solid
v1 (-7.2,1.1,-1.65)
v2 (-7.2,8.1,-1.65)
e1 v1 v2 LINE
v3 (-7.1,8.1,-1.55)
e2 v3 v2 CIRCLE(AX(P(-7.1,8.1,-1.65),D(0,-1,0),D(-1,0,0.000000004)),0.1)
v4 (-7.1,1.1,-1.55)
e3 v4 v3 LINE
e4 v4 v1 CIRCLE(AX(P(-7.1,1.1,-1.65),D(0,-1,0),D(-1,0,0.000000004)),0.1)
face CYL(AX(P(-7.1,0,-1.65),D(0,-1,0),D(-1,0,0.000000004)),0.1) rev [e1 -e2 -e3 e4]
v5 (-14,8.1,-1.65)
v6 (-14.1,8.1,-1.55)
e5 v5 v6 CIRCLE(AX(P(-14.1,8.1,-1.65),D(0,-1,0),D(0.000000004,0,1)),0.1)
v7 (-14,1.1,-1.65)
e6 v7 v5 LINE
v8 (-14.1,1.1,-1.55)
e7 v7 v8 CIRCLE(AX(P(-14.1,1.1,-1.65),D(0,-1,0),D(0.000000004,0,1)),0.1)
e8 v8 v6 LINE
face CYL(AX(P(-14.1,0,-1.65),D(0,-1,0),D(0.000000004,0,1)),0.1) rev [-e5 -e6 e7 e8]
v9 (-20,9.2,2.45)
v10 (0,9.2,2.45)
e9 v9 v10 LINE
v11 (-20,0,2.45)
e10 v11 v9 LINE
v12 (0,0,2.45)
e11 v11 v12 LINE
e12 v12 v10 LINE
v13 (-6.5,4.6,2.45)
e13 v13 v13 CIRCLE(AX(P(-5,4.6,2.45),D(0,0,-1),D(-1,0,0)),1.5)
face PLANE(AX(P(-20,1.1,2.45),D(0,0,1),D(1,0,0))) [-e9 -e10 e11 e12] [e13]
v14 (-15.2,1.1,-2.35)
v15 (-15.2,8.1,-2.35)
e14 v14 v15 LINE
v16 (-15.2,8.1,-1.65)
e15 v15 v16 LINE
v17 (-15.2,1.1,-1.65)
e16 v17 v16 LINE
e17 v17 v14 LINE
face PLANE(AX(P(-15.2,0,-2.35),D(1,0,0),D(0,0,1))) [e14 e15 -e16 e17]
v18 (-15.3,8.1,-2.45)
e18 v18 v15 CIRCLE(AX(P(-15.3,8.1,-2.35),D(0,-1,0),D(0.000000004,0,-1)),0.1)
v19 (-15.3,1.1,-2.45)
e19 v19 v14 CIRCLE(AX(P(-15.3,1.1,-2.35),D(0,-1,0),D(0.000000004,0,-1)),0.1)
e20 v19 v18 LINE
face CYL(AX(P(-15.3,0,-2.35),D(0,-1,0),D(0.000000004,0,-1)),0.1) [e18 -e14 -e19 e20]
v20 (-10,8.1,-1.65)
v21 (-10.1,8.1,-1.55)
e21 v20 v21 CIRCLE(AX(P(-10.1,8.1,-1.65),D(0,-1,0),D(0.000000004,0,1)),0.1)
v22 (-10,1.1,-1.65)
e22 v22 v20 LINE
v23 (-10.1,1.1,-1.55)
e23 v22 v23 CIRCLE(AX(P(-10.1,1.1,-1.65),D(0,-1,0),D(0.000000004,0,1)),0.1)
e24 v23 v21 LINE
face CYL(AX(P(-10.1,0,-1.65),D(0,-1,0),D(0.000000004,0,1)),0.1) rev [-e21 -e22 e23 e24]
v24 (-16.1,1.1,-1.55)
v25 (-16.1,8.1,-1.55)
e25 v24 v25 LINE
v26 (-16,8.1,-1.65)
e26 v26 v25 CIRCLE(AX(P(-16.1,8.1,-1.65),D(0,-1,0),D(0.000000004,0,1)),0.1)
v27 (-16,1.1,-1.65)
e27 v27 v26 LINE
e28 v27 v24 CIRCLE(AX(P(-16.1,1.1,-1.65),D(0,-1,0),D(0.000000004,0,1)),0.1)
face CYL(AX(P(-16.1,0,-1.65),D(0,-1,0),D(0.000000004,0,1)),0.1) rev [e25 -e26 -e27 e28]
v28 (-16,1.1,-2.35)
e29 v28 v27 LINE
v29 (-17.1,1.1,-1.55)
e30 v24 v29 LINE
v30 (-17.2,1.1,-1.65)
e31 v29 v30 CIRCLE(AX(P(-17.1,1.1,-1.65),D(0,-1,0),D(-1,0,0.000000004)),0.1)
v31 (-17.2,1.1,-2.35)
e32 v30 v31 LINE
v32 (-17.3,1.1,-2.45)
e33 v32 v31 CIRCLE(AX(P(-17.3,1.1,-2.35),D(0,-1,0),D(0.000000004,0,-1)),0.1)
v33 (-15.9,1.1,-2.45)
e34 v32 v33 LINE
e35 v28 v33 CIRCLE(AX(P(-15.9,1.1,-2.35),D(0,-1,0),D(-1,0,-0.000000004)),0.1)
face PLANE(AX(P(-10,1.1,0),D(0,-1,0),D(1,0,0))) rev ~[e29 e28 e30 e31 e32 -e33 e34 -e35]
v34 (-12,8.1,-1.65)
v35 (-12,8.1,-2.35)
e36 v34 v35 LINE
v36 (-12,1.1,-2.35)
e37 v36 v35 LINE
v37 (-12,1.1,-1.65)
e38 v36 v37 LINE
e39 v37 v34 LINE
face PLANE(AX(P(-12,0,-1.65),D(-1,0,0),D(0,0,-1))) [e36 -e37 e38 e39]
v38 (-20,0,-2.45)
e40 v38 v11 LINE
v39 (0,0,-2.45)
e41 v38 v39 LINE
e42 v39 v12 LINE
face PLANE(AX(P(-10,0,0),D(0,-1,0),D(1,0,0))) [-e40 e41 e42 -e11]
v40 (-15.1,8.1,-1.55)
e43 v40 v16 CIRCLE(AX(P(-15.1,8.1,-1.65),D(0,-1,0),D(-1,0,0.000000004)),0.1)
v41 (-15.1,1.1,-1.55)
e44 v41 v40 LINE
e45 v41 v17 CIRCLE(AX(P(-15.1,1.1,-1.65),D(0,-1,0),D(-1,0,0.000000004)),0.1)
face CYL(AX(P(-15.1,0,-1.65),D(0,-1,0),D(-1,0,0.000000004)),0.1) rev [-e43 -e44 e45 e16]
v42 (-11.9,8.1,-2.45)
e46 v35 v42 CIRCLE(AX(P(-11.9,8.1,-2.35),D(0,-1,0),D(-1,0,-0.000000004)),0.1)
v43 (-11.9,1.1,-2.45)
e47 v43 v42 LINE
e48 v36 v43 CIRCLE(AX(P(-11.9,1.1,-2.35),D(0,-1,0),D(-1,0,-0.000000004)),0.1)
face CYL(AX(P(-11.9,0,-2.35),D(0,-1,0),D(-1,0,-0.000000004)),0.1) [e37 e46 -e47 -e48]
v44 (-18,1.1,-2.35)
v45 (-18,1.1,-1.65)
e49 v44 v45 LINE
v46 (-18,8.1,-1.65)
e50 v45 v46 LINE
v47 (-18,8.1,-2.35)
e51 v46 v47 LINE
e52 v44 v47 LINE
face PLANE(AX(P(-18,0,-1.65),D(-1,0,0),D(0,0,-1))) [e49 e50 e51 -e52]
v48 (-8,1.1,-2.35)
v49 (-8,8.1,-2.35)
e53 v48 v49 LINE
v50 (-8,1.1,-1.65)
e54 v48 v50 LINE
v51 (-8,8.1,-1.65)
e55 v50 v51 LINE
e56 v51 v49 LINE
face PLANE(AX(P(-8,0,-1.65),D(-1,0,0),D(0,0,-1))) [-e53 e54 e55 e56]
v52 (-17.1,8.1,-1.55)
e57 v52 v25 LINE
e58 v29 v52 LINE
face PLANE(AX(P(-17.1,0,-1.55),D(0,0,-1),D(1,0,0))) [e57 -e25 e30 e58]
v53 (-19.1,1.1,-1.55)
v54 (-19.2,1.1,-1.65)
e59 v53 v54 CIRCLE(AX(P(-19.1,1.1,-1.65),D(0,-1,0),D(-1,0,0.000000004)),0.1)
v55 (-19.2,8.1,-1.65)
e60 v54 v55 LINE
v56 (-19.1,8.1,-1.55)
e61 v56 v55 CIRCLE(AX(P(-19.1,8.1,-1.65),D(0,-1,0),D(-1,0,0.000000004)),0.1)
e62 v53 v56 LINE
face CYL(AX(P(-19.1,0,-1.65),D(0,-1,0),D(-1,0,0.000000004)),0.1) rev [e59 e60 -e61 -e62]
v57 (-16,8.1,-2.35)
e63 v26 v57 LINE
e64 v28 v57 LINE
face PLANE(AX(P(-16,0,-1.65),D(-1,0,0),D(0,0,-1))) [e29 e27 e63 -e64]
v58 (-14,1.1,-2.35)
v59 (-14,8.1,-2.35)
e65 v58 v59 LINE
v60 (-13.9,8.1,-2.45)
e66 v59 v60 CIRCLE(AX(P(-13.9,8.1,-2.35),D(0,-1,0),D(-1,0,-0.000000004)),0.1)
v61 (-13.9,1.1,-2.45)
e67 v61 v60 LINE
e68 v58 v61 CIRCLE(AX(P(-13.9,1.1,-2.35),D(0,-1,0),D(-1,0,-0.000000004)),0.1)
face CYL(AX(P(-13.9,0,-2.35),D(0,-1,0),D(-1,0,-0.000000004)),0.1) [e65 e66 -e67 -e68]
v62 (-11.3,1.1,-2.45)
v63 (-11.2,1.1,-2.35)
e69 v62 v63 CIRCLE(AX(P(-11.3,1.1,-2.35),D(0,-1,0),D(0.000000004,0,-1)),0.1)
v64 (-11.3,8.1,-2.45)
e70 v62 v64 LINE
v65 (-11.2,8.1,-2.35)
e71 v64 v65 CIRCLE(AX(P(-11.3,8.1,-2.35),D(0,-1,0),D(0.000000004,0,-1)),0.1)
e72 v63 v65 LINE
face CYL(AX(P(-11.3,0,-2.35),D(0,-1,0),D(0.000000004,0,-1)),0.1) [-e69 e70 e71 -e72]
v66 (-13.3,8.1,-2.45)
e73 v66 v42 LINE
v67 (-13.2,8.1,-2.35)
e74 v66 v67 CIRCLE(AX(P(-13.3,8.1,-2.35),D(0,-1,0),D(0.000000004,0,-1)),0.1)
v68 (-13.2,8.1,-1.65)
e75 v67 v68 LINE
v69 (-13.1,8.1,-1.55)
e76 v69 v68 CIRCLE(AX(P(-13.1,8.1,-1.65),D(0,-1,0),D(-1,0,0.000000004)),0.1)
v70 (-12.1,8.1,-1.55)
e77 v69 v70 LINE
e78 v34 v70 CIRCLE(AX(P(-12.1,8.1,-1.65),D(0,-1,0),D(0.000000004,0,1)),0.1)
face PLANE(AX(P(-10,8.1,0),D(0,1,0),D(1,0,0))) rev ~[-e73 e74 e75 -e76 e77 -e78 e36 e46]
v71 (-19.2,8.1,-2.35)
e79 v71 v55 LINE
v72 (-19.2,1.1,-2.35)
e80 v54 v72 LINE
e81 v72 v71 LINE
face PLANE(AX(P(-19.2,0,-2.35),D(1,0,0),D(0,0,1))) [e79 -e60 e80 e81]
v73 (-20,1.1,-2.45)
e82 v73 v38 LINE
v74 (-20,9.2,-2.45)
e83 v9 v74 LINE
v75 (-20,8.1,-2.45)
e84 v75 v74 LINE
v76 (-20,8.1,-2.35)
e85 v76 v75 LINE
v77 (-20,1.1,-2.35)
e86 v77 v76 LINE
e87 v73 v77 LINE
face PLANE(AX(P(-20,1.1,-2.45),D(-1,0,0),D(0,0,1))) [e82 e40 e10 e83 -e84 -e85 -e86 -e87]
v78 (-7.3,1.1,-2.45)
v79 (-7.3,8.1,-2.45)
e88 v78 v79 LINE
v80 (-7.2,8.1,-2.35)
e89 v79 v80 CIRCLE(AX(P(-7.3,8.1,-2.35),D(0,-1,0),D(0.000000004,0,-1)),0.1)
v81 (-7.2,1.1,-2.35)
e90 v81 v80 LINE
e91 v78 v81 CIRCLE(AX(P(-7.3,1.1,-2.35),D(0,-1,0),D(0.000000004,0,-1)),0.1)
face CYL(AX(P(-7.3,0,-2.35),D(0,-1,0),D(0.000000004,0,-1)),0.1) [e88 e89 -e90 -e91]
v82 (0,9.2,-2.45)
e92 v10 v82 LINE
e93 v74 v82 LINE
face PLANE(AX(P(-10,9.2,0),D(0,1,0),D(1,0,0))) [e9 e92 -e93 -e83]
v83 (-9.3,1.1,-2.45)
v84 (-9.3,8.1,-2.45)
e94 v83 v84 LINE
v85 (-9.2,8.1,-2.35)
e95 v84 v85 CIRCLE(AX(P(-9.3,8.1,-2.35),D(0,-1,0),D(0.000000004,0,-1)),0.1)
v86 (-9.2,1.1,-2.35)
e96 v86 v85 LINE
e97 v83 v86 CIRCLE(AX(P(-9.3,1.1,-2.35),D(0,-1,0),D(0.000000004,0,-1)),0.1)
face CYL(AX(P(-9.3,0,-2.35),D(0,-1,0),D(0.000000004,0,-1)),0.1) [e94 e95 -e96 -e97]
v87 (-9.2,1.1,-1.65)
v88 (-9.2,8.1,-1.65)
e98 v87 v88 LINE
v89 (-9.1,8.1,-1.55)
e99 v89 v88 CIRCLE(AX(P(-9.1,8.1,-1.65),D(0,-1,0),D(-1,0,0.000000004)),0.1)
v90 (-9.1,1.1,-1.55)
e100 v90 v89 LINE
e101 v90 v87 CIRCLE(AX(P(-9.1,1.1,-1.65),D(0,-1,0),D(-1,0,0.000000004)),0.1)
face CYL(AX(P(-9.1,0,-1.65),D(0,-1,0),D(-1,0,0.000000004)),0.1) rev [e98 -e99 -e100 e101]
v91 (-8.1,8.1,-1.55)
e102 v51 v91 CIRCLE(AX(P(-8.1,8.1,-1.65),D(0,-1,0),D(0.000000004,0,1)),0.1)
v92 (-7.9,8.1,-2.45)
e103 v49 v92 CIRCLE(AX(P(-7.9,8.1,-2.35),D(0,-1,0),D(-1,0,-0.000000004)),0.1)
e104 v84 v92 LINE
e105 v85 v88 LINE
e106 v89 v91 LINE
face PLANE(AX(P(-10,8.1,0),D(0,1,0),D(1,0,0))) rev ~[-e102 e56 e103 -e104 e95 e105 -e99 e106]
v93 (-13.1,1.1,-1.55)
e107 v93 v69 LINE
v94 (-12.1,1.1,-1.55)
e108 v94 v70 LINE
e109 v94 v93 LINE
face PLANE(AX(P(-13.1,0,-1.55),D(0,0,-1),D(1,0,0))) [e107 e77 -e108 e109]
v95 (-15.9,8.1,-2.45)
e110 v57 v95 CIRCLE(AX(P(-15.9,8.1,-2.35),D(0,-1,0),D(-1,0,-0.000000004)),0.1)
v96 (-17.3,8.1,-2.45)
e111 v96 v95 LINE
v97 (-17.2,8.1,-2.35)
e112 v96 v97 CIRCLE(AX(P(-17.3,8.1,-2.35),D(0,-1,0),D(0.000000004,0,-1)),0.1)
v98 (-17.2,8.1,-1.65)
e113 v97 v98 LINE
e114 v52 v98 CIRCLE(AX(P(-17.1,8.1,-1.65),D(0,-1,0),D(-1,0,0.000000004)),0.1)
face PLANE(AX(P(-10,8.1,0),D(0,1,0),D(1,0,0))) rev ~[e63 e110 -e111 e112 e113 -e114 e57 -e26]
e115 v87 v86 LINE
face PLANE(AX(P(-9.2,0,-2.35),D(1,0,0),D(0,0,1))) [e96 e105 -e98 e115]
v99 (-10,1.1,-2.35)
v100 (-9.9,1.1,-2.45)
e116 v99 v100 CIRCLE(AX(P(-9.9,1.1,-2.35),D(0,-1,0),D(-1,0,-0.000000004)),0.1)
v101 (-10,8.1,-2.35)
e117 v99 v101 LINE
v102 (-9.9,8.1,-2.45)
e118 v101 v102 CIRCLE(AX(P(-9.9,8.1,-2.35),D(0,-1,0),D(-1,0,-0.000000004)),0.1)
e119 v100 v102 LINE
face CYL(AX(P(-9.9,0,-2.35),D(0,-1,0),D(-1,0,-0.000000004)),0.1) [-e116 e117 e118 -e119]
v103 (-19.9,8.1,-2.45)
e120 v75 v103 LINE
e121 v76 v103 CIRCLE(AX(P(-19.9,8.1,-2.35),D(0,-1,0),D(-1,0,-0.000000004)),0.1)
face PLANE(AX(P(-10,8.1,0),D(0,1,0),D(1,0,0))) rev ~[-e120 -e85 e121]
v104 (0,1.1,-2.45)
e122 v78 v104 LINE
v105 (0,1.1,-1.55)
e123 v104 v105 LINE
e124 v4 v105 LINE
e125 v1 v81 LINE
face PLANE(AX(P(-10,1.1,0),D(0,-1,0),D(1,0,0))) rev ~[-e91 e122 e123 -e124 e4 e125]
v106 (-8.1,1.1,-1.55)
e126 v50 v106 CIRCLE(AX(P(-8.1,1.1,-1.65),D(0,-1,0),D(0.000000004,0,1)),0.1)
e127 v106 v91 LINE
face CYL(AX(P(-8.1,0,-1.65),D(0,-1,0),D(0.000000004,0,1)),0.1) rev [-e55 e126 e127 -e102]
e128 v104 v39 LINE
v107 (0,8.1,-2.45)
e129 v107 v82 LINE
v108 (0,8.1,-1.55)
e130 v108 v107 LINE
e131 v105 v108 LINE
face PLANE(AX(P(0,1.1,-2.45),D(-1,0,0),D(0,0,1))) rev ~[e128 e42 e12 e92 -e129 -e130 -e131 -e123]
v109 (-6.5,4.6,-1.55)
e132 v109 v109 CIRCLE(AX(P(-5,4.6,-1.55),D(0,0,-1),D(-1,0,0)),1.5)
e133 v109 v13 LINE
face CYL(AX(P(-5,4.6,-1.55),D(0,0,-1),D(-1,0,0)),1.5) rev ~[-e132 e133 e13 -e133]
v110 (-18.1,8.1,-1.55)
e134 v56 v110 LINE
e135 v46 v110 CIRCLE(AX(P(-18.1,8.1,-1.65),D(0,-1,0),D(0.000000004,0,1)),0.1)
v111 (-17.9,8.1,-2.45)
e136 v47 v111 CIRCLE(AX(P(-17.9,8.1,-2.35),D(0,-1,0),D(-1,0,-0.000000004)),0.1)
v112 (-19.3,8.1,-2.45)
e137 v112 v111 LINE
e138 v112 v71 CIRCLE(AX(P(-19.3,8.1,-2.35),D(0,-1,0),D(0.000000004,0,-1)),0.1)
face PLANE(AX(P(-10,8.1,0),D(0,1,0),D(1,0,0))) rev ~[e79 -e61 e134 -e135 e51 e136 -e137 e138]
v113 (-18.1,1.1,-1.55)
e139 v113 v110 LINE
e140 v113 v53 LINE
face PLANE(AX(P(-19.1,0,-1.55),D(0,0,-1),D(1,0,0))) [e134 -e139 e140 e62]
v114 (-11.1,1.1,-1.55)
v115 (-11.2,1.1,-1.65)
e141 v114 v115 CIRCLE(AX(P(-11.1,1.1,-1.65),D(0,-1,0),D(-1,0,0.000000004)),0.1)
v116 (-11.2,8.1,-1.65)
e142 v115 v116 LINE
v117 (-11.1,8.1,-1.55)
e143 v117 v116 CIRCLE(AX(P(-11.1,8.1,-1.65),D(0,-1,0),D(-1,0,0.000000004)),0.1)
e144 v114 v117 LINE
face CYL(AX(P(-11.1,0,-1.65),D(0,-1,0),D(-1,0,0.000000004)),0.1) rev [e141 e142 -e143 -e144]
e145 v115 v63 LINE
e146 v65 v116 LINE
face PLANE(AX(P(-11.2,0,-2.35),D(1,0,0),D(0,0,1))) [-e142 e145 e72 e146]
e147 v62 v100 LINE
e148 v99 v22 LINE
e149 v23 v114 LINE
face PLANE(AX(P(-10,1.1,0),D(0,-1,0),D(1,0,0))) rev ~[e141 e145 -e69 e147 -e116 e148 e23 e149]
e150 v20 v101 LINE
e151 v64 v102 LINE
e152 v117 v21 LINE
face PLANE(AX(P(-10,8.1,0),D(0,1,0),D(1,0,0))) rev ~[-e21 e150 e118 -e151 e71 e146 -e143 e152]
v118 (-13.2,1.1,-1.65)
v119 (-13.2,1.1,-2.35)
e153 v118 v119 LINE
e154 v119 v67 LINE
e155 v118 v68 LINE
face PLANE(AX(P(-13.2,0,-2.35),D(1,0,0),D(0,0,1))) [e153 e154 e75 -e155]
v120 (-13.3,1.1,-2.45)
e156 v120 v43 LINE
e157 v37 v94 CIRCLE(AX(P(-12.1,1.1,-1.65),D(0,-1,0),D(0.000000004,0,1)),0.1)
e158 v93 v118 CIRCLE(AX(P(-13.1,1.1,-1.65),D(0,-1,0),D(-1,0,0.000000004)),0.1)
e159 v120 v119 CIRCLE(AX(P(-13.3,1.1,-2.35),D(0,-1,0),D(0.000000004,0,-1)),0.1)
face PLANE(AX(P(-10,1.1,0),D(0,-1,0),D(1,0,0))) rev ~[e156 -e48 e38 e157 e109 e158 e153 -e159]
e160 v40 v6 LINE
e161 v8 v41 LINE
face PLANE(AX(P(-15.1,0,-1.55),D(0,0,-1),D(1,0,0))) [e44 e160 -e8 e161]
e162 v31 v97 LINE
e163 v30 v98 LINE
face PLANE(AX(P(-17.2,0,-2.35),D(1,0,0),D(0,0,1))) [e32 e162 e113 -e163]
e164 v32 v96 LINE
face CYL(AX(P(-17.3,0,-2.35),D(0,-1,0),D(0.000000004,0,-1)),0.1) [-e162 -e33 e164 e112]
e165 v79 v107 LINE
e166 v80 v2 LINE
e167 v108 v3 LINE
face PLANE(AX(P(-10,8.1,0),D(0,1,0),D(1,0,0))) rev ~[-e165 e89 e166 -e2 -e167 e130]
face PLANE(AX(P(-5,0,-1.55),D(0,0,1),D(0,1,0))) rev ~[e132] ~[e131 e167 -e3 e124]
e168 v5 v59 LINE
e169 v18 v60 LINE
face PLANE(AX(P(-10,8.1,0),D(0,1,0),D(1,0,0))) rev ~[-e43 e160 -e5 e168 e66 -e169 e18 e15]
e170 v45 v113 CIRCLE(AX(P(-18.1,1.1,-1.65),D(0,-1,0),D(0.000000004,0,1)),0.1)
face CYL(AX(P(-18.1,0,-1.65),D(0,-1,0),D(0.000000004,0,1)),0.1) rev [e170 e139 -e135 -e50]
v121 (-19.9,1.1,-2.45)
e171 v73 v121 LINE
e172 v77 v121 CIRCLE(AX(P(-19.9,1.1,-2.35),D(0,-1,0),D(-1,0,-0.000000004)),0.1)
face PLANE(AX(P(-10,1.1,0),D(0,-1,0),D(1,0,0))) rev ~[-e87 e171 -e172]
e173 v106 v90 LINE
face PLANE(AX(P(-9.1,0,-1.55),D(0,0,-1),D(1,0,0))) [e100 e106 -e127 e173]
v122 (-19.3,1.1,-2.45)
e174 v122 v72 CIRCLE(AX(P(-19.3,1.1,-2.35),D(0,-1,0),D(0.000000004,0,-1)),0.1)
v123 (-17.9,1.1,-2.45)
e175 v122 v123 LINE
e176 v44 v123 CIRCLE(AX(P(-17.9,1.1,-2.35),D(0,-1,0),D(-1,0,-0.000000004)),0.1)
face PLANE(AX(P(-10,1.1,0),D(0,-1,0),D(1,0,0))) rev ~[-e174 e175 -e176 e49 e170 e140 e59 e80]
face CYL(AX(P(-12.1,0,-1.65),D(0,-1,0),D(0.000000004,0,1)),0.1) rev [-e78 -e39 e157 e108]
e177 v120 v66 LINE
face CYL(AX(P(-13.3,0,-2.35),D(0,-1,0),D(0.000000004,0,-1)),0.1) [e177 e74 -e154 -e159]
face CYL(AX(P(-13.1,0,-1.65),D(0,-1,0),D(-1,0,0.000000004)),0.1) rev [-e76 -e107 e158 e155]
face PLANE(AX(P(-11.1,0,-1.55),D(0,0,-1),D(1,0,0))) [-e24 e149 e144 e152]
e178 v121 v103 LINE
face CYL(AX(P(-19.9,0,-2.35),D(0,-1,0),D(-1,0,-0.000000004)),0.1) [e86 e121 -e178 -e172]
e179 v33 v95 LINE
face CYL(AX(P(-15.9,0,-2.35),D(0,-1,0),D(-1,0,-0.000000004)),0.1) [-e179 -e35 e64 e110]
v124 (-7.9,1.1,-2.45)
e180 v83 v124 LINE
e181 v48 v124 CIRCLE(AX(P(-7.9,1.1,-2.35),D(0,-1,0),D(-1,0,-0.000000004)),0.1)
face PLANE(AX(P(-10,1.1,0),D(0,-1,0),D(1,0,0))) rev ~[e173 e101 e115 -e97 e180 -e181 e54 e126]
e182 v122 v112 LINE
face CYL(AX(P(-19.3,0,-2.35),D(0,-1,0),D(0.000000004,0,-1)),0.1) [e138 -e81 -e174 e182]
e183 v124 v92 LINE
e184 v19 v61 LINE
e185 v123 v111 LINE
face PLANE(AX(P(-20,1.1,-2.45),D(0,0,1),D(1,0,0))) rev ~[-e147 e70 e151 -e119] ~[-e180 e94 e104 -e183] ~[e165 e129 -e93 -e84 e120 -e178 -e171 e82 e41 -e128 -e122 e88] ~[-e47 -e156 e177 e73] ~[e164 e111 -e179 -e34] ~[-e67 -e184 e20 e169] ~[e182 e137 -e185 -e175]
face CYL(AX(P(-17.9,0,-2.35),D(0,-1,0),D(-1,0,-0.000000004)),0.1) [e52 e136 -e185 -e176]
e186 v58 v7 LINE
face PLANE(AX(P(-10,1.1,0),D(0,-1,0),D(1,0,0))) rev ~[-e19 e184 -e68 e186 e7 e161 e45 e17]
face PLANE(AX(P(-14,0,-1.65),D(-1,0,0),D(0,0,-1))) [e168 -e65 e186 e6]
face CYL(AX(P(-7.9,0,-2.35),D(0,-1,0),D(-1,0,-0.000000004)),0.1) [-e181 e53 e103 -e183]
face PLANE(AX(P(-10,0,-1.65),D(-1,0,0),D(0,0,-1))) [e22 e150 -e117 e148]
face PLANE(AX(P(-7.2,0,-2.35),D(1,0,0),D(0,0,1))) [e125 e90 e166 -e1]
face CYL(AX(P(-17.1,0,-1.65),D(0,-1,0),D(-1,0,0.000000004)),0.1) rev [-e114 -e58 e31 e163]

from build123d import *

# Parameters (mm, degrees)
RESSALTO_EXTRUS_O2_DEPTH = 9.2
ESBO_O5_R                = 2.15
CORTE_EXTRUS_O2_DEPTH    = 9.2
CHANFRO2_SIZE            = 0.3
SKETCH1_W                = 12.014068267
SKETCH1_H                = 17.223276929
CUT_EXTRUDE1_DEPTH       = 25
SKETCH3_W                = 4
SKETCH3_H                = 9.2
BOSS_EXTRUDE1_DEPTH      = 5
SKETCH4_R                = 1.5
CUT_EXTRUDE3_DEPTH       = 10
SKETCH5_W                = 42.60578415
SKETCH5_H                = 33.509789151
CUT_EXTRUDE4_DEPTH       = 1.1
SKETCH6_W                = 58.176505701
SKETCH6_H                = 25.888094607
CUT_EXTRUDE5_DEPTH       = 1.1
SKETCH7_W                = 20
SKETCH7_H                = 4.9
BOSS_EXTRUDE2_DEPTH      = 1.1
SKETCH8_W                = 20
SKETCH8_H                = 4.9
BOSS_EXTRUDE3_DEPTH      = 1.1


with BuildPart() as part:
    # Esboço4 → Ressalto-extrusão2 (new body)
    with BuildSketch(Plane(origin=(0, 0, 0), x_dir=(1, 0, 0), z_dir=(0, 1, 0))):
        with BuildLine():
            Line((-19.2, 2.35), (-19.2, 1.65))
            ThreePointArc((-19.2, 1.65), (-19.170710678, 1.579289322), (-19.1, 1.55))
            Line((-19.1, 1.55), (-18.1, 1.55))
            ThreePointArc((-18.1, 1.55), (-18.029289322, 1.579289322), (-18, 1.65))
            Line((-18, 1.65), (-18, 2.35))
            ThreePointArc((-18, 2.35), (-17.970710678, 2.420710678), (-17.9, 2.45))
            Line((-17.9, 2.45), (-17.3, 2.45))
            ThreePointArc((-17.3, 2.45), (-17.229289322, 2.420710678), (-17.2, 2.35))
            Line((-17.2, 2.35), (-17.2, 1.65))
            ThreePointArc((-17.2, 1.65), (-17.170710678, 1.579289322), (-17.1, 1.55))
            Line((-17.1, 1.55), (-16.1, 1.55))
            ThreePointArc((-16.1, 1.55), (-16.029289322, 1.579289322), (-16, 1.65))
            Line((-16, 1.65), (-16, 2.35))
            ThreePointArc((-16, 2.35), (-15.970710678, 2.420710678), (-15.9, 2.45))
            Line((-15.9, 2.45), (-15.3, 2.45))
            ThreePointArc((-15.3, 2.45), (-15.229289322, 2.420710678), (-15.2, 2.35))
            Line((-15.2, 2.35), (-15.2, 1.65))
            ThreePointArc((-15.2, 1.65), (-15.170710678, 1.579289322), (-15.1, 1.55))
            Line((-15.1, 1.55), (-14.1, 1.55))
            ThreePointArc((-14.1, 1.55), (-14.029289322, 1.579289322), (-14, 1.65))
            Line((-14, 1.65), (-14, 2.35))
            ThreePointArc((-14, 2.35), (-13.970710678, 2.420710678), (-13.9, 2.45))
            Line((-13.9, 2.45), (-13.3, 2.45))
            ThreePointArc((-13.3, 2.45), (-13.229289322, 2.420710678), (-13.2, 2.35))
            Line((-13.2, 2.35), (-13.2, 1.65))
            ThreePointArc((-13.2, 1.65), (-13.170710678, 1.579289322), (-13.1, 1.55))
            Line((-13.1, 1.55), (-12.1, 1.55))
            ThreePointArc((-12.1, 1.55), (-12.029289322, 1.579289322), (-12, 1.65))
            Line((-12, 1.65), (-12, 2.35))
            ThreePointArc((-12, 2.35), (-11.970710678, 2.420710678), (-11.9, 2.45))
            Line((-11.9, 2.45), (-11.3, 2.45))
            ThreePointArc((-11.3, 2.45), (-11.229289322, 2.420710678), (-11.2, 2.35))
            Line((-11.2, 2.35), (-11.2, 1.65))
            ThreePointArc((-11.2, 1.65), (-11.170710678, 1.579289322), (-11.1, 1.55))
            Line((-11.1, 1.55), (-10.1, 1.55))
            ThreePointArc((-10.1, 1.55), (-10.029289322, 1.579289322), (-10, 1.65))
            Line((-10, 1.65), (-10, 2.35))
            ThreePointArc((-10, 2.35), (-9.970710678, 2.420710678), (-9.9, 2.45))
            Line((-9.9, 2.45), (-9.3, 2.45))
            ThreePointArc((-9.3, 2.45), (-9.229289322, 2.420710678), (-9.2, 2.35))
            Line((-9.2, 2.35), (-9.2, 1.65))
            ThreePointArc((-9.2, 1.65), (-9.170710678, 1.579289322), (-9.1, 1.55))
            Line((-9.1, 1.55), (-8.1, 1.55))
            ThreePointArc((-8.1, 1.55), (-8.029289322, 1.579289322), (-8, 1.65))
            Line((-8, 1.65), (-8, 2.35))
            ThreePointArc((-8, 2.35), (-7.970710678, 2.420710678), (-7.9, 2.45))
            Line((-7.9, 2.45), (-7.3, 2.45))
            ThreePointArc((-7.3, 2.45), (-7.229289322, 2.420710678), (-7.2, 2.35))
            Line((-7.2, 2.35), (-7.2, 1.65))
            ThreePointArc((-7.2, 1.65), (-7.170710678, 1.579289322), (-7.1, 1.55))
            Line((-7.1, 1.55), (7.1, 1.55))
            ThreePointArc((7.1, 1.55), (7.170710678, 1.579289322), (7.2, 1.65))
            Line((7.2, 1.65), (7.2, 2.35))
            ThreePointArc((7.2, 2.35), (7.229289322, 2.420710678), (7.3, 2.45))
            Line((7.3, 2.45), (7.9, 2.45))
            ThreePointArc((7.9, 2.45), (7.970710678, 2.420710678), (8, 2.35))
            Line((8, 2.35), (8, 1.65))
            ThreePointArc((8, 1.65), (8.029289322, 1.579289322), (8.1, 1.55))
            Line((8.1, 1.55), (9.1, 1.55))
            ThreePointArc((9.1, 1.55), (9.170710678, 1.579289322), (9.2, 1.65))
            Line((9.2, 1.65), (9.2, 2.35))
            ThreePointArc((9.2, 2.35), (9.229289322, 2.420710678), (9.3, 2.45))
            Line((9.3, 2.45), (9.9, 2.45))
            ThreePointArc((9.9, 2.45), (9.970710678, 2.420710678), (10, 2.35))
            Line((10, 2.35), (10, 1.65))
            ThreePointArc((10, 1.65), (10.029289322, 1.579289322), (10.1, 1.55))
            Line((10.1, 1.55), (11.1, 1.55))
            ThreePointArc((11.1, 1.55), (11.170710678, 1.579289322), (11.2, 1.65))
            Line((11.2, 1.65), (11.2, 2.35))
            ThreePointArc((11.2, 2.35), (11.229289322, 2.420710678), (11.3, 2.45))
            Line((11.3, 2.45), (11.9, 2.45))
            ThreePointArc((11.9, 2.45), (11.970710678, 2.420710678), (12, 2.35))
            Line((12, 2.35), (12, 1.65))
            ThreePointArc((12, 1.65), (12.029289322, 1.579289322), (12.1, 1.55))
            Line((12.1, 1.55), (13.1, 1.55))
            ThreePointArc((13.1, 1.55), (13.170710678, 1.579289322), (13.2, 1.65))
            Line((13.2, 1.65), (13.2, 2.35))
            ThreePointArc((13.2, 2.35), (13.229289322, 2.420710678), (13.3, 2.45))
            Line((13.3, 2.45), (13.9, 2.45))
            ThreePointArc((13.9, 2.45), (13.970710678, 2.420710678), (14, 2.35))
            Line((14, 2.35), (14, 1.65))
            ThreePointArc((14, 1.65), (14.029289322, 1.579289322), (14.1, 1.55))
            Line((14.1, 1.55), (15.1, 1.55))
            ThreePointArc((15.1, 1.55), (15.170710678, 1.579289322), (15.2, 1.65))
            Line((15.2, 1.65), (15.2, 2.35))
            ThreePointArc((15.2, 2.35), (15.229289322, 2.420710678), (15.3, 2.45))
            Line((15.3, 2.45), (15.9, 2.45))
            ThreePointArc((15.9, 2.45), (15.970710678, 2.420710678), (16, 2.35))
            Line((16, 2.35), (16, 1.65))
            ThreePointArc((16, 1.65), (16.029289322, 1.579289322), (16.1, 1.55))
            Line((16.1, 1.55), (17.1, 1.55))
            ThreePointArc((17.1, 1.55), (17.170710678, 1.579289322), (17.2, 1.65))
            Line((17.2, 1.65), (17.2, 2.35))
            ThreePointArc((17.2, 2.35), (17.229289322, 2.420710678), (17.3, 2.45))
            Line((17.3, 2.45), (17.9, 2.45))
            ThreePointArc((17.9, 2.45), (17.970710678, 2.420710678), (18, 2.35))
            Line((18, 2.35), (18, 1.65))
            ThreePointArc((18, 1.65), (18.029289322, 1.579289322), (18.1, 1.55))
            Line((18.1, 1.55), (19.1, 1.55))
            ThreePointArc((19.1, 1.55), (19.170710678, 1.579289322), (19.2, 1.65))
            Line((19.2, 1.65), (19.2, 2.35))
            ThreePointArc((19.2, 2.35), (19.229289322, 2.420710678), (19.3, 2.45))
            Line((19.3, 2.45), (19.9, 2.45))
            ThreePointArc((19.9, 2.45), (19.970710678, 2.420710678), (20, 2.35))
            Line((20, 2.35), (20, -2.45))
            Line((20, -2.45), (-20, -2.45))
            Line((-20, -2.45), (-20, 2.35))
            ThreePointArc((-20, 2.35), (-19.970710678, 2.420710678), (-19.9, 2.45))
            Line((-19.9, 2.45), (-19.3, 2.45))
            ThreePointArc((-19.3, 2.45), (-19.229289322, 2.420710678), (-19.2, 2.35))
        make_face()
    extrude(amount=RESSALTO_EXTRUS_O2_DEPTH)

    # Esboço5 → Corte-extrusão2 (cut)
    with BuildSketch(Plane(origin=(0, 0, -1.55), x_dir=(-1, 0, 0), z_dir=(0, 0, -1))):
        with Locations((0, 4.6)):
            Circle(ESBO_O5_R)
    extrude(amount=-CORTE_EXTRUS_O2_DEPTH, mode=Mode.SUBTRACT)

    # Chanfro2
    chanfro2_edges = [part.edges().sort_by_distance(p)[0] for p in [
        (2.15, 4.6, -1.55),
    ]]
    chamfer(chanfro2_edges, length=CHANFRO2_SIZE)

    # Sketch1 → Cut-Extrude1 (cut)
    with BuildSketch(Plane(origin=(20, 0, 0), x_dir=(0, 0, -1), z_dir=(1, 0, 0))):
        with Locations((-0.254525551, 3.53223116)):
            Rectangle(SKETCH1_W, SKETCH1_H)
    extrude(amount=-CUT_EXTRUDE1_DEPTH, mode=Mode.SUBTRACT)

    # Sketch3 → Boss-Extrude1 (add)
    with BuildSketch(Plane(origin=(-5, 0, 0), x_dir=(0, 0, -1), z_dir=(1, 0, 0))):
        with Locations((-0.45, 4.6)):
            Rectangle(SKETCH3_W, SKETCH3_H)
    extrude(amount=BOSS_EXTRUDE1_DEPTH)

    # Sketch4 → Cut-Extrude3 (cut)
    with BuildSketch(Plane(origin=(0, 0, -1.55), x_dir=(-1, 0, 0), z_dir=(0, 0, -1))):
        with Locations((5, 4.6)):
            Circle(SKETCH4_R)
    extrude(amount=-CUT_EXTRUDE3_DEPTH, mode=Mode.SUBTRACT)

    # Sketch5 → Cut-Extrude4 (cut)
    with BuildSketch(Plane.XZ):
        with Locations((-12.27909741, -6.492410197)):
            Rectangle(SKETCH5_W, SKETCH5_H)
    extrude(amount=-CUT_EXTRUDE4_DEPTH, mode=Mode.SUBTRACT)

    # Sketch6 → Cut-Extrude5 (cut)
    with BuildSketch(Plane(origin=(0, 9.2, 0), x_dir=(1, 0, 0), z_dir=(0, 1, 0))):
        with Locations((-5.279993837, 3.701095613)):
            Rectangle(SKETCH6_W, SKETCH6_H)
    extrude(amount=-CUT_EXTRUDE5_DEPTH, mode=Mode.SUBTRACT)

    # Sketch7 → Boss-Extrude2 (add)
    with BuildSketch(Plane(origin=(0, 8.1, 0), x_dir=(1, 0, 0), z_dir=(0, 1, 0))):
        with Locations((-10, 0)):
            Rectangle(SKETCH7_W, SKETCH7_H)
    extrude(amount=BOSS_EXTRUDE2_DEPTH)

    # Sketch8 → Boss-Extrude3 (add)
    with BuildSketch(Plane.XZ.offset(-1.1)):
        with Locations((-10, 0)):
            Rectangle(SKETCH8_W, SKETCH8_H)
    extrude(amount=BOSS_EXTRUDE3_DEPTH)


solid = part.part
